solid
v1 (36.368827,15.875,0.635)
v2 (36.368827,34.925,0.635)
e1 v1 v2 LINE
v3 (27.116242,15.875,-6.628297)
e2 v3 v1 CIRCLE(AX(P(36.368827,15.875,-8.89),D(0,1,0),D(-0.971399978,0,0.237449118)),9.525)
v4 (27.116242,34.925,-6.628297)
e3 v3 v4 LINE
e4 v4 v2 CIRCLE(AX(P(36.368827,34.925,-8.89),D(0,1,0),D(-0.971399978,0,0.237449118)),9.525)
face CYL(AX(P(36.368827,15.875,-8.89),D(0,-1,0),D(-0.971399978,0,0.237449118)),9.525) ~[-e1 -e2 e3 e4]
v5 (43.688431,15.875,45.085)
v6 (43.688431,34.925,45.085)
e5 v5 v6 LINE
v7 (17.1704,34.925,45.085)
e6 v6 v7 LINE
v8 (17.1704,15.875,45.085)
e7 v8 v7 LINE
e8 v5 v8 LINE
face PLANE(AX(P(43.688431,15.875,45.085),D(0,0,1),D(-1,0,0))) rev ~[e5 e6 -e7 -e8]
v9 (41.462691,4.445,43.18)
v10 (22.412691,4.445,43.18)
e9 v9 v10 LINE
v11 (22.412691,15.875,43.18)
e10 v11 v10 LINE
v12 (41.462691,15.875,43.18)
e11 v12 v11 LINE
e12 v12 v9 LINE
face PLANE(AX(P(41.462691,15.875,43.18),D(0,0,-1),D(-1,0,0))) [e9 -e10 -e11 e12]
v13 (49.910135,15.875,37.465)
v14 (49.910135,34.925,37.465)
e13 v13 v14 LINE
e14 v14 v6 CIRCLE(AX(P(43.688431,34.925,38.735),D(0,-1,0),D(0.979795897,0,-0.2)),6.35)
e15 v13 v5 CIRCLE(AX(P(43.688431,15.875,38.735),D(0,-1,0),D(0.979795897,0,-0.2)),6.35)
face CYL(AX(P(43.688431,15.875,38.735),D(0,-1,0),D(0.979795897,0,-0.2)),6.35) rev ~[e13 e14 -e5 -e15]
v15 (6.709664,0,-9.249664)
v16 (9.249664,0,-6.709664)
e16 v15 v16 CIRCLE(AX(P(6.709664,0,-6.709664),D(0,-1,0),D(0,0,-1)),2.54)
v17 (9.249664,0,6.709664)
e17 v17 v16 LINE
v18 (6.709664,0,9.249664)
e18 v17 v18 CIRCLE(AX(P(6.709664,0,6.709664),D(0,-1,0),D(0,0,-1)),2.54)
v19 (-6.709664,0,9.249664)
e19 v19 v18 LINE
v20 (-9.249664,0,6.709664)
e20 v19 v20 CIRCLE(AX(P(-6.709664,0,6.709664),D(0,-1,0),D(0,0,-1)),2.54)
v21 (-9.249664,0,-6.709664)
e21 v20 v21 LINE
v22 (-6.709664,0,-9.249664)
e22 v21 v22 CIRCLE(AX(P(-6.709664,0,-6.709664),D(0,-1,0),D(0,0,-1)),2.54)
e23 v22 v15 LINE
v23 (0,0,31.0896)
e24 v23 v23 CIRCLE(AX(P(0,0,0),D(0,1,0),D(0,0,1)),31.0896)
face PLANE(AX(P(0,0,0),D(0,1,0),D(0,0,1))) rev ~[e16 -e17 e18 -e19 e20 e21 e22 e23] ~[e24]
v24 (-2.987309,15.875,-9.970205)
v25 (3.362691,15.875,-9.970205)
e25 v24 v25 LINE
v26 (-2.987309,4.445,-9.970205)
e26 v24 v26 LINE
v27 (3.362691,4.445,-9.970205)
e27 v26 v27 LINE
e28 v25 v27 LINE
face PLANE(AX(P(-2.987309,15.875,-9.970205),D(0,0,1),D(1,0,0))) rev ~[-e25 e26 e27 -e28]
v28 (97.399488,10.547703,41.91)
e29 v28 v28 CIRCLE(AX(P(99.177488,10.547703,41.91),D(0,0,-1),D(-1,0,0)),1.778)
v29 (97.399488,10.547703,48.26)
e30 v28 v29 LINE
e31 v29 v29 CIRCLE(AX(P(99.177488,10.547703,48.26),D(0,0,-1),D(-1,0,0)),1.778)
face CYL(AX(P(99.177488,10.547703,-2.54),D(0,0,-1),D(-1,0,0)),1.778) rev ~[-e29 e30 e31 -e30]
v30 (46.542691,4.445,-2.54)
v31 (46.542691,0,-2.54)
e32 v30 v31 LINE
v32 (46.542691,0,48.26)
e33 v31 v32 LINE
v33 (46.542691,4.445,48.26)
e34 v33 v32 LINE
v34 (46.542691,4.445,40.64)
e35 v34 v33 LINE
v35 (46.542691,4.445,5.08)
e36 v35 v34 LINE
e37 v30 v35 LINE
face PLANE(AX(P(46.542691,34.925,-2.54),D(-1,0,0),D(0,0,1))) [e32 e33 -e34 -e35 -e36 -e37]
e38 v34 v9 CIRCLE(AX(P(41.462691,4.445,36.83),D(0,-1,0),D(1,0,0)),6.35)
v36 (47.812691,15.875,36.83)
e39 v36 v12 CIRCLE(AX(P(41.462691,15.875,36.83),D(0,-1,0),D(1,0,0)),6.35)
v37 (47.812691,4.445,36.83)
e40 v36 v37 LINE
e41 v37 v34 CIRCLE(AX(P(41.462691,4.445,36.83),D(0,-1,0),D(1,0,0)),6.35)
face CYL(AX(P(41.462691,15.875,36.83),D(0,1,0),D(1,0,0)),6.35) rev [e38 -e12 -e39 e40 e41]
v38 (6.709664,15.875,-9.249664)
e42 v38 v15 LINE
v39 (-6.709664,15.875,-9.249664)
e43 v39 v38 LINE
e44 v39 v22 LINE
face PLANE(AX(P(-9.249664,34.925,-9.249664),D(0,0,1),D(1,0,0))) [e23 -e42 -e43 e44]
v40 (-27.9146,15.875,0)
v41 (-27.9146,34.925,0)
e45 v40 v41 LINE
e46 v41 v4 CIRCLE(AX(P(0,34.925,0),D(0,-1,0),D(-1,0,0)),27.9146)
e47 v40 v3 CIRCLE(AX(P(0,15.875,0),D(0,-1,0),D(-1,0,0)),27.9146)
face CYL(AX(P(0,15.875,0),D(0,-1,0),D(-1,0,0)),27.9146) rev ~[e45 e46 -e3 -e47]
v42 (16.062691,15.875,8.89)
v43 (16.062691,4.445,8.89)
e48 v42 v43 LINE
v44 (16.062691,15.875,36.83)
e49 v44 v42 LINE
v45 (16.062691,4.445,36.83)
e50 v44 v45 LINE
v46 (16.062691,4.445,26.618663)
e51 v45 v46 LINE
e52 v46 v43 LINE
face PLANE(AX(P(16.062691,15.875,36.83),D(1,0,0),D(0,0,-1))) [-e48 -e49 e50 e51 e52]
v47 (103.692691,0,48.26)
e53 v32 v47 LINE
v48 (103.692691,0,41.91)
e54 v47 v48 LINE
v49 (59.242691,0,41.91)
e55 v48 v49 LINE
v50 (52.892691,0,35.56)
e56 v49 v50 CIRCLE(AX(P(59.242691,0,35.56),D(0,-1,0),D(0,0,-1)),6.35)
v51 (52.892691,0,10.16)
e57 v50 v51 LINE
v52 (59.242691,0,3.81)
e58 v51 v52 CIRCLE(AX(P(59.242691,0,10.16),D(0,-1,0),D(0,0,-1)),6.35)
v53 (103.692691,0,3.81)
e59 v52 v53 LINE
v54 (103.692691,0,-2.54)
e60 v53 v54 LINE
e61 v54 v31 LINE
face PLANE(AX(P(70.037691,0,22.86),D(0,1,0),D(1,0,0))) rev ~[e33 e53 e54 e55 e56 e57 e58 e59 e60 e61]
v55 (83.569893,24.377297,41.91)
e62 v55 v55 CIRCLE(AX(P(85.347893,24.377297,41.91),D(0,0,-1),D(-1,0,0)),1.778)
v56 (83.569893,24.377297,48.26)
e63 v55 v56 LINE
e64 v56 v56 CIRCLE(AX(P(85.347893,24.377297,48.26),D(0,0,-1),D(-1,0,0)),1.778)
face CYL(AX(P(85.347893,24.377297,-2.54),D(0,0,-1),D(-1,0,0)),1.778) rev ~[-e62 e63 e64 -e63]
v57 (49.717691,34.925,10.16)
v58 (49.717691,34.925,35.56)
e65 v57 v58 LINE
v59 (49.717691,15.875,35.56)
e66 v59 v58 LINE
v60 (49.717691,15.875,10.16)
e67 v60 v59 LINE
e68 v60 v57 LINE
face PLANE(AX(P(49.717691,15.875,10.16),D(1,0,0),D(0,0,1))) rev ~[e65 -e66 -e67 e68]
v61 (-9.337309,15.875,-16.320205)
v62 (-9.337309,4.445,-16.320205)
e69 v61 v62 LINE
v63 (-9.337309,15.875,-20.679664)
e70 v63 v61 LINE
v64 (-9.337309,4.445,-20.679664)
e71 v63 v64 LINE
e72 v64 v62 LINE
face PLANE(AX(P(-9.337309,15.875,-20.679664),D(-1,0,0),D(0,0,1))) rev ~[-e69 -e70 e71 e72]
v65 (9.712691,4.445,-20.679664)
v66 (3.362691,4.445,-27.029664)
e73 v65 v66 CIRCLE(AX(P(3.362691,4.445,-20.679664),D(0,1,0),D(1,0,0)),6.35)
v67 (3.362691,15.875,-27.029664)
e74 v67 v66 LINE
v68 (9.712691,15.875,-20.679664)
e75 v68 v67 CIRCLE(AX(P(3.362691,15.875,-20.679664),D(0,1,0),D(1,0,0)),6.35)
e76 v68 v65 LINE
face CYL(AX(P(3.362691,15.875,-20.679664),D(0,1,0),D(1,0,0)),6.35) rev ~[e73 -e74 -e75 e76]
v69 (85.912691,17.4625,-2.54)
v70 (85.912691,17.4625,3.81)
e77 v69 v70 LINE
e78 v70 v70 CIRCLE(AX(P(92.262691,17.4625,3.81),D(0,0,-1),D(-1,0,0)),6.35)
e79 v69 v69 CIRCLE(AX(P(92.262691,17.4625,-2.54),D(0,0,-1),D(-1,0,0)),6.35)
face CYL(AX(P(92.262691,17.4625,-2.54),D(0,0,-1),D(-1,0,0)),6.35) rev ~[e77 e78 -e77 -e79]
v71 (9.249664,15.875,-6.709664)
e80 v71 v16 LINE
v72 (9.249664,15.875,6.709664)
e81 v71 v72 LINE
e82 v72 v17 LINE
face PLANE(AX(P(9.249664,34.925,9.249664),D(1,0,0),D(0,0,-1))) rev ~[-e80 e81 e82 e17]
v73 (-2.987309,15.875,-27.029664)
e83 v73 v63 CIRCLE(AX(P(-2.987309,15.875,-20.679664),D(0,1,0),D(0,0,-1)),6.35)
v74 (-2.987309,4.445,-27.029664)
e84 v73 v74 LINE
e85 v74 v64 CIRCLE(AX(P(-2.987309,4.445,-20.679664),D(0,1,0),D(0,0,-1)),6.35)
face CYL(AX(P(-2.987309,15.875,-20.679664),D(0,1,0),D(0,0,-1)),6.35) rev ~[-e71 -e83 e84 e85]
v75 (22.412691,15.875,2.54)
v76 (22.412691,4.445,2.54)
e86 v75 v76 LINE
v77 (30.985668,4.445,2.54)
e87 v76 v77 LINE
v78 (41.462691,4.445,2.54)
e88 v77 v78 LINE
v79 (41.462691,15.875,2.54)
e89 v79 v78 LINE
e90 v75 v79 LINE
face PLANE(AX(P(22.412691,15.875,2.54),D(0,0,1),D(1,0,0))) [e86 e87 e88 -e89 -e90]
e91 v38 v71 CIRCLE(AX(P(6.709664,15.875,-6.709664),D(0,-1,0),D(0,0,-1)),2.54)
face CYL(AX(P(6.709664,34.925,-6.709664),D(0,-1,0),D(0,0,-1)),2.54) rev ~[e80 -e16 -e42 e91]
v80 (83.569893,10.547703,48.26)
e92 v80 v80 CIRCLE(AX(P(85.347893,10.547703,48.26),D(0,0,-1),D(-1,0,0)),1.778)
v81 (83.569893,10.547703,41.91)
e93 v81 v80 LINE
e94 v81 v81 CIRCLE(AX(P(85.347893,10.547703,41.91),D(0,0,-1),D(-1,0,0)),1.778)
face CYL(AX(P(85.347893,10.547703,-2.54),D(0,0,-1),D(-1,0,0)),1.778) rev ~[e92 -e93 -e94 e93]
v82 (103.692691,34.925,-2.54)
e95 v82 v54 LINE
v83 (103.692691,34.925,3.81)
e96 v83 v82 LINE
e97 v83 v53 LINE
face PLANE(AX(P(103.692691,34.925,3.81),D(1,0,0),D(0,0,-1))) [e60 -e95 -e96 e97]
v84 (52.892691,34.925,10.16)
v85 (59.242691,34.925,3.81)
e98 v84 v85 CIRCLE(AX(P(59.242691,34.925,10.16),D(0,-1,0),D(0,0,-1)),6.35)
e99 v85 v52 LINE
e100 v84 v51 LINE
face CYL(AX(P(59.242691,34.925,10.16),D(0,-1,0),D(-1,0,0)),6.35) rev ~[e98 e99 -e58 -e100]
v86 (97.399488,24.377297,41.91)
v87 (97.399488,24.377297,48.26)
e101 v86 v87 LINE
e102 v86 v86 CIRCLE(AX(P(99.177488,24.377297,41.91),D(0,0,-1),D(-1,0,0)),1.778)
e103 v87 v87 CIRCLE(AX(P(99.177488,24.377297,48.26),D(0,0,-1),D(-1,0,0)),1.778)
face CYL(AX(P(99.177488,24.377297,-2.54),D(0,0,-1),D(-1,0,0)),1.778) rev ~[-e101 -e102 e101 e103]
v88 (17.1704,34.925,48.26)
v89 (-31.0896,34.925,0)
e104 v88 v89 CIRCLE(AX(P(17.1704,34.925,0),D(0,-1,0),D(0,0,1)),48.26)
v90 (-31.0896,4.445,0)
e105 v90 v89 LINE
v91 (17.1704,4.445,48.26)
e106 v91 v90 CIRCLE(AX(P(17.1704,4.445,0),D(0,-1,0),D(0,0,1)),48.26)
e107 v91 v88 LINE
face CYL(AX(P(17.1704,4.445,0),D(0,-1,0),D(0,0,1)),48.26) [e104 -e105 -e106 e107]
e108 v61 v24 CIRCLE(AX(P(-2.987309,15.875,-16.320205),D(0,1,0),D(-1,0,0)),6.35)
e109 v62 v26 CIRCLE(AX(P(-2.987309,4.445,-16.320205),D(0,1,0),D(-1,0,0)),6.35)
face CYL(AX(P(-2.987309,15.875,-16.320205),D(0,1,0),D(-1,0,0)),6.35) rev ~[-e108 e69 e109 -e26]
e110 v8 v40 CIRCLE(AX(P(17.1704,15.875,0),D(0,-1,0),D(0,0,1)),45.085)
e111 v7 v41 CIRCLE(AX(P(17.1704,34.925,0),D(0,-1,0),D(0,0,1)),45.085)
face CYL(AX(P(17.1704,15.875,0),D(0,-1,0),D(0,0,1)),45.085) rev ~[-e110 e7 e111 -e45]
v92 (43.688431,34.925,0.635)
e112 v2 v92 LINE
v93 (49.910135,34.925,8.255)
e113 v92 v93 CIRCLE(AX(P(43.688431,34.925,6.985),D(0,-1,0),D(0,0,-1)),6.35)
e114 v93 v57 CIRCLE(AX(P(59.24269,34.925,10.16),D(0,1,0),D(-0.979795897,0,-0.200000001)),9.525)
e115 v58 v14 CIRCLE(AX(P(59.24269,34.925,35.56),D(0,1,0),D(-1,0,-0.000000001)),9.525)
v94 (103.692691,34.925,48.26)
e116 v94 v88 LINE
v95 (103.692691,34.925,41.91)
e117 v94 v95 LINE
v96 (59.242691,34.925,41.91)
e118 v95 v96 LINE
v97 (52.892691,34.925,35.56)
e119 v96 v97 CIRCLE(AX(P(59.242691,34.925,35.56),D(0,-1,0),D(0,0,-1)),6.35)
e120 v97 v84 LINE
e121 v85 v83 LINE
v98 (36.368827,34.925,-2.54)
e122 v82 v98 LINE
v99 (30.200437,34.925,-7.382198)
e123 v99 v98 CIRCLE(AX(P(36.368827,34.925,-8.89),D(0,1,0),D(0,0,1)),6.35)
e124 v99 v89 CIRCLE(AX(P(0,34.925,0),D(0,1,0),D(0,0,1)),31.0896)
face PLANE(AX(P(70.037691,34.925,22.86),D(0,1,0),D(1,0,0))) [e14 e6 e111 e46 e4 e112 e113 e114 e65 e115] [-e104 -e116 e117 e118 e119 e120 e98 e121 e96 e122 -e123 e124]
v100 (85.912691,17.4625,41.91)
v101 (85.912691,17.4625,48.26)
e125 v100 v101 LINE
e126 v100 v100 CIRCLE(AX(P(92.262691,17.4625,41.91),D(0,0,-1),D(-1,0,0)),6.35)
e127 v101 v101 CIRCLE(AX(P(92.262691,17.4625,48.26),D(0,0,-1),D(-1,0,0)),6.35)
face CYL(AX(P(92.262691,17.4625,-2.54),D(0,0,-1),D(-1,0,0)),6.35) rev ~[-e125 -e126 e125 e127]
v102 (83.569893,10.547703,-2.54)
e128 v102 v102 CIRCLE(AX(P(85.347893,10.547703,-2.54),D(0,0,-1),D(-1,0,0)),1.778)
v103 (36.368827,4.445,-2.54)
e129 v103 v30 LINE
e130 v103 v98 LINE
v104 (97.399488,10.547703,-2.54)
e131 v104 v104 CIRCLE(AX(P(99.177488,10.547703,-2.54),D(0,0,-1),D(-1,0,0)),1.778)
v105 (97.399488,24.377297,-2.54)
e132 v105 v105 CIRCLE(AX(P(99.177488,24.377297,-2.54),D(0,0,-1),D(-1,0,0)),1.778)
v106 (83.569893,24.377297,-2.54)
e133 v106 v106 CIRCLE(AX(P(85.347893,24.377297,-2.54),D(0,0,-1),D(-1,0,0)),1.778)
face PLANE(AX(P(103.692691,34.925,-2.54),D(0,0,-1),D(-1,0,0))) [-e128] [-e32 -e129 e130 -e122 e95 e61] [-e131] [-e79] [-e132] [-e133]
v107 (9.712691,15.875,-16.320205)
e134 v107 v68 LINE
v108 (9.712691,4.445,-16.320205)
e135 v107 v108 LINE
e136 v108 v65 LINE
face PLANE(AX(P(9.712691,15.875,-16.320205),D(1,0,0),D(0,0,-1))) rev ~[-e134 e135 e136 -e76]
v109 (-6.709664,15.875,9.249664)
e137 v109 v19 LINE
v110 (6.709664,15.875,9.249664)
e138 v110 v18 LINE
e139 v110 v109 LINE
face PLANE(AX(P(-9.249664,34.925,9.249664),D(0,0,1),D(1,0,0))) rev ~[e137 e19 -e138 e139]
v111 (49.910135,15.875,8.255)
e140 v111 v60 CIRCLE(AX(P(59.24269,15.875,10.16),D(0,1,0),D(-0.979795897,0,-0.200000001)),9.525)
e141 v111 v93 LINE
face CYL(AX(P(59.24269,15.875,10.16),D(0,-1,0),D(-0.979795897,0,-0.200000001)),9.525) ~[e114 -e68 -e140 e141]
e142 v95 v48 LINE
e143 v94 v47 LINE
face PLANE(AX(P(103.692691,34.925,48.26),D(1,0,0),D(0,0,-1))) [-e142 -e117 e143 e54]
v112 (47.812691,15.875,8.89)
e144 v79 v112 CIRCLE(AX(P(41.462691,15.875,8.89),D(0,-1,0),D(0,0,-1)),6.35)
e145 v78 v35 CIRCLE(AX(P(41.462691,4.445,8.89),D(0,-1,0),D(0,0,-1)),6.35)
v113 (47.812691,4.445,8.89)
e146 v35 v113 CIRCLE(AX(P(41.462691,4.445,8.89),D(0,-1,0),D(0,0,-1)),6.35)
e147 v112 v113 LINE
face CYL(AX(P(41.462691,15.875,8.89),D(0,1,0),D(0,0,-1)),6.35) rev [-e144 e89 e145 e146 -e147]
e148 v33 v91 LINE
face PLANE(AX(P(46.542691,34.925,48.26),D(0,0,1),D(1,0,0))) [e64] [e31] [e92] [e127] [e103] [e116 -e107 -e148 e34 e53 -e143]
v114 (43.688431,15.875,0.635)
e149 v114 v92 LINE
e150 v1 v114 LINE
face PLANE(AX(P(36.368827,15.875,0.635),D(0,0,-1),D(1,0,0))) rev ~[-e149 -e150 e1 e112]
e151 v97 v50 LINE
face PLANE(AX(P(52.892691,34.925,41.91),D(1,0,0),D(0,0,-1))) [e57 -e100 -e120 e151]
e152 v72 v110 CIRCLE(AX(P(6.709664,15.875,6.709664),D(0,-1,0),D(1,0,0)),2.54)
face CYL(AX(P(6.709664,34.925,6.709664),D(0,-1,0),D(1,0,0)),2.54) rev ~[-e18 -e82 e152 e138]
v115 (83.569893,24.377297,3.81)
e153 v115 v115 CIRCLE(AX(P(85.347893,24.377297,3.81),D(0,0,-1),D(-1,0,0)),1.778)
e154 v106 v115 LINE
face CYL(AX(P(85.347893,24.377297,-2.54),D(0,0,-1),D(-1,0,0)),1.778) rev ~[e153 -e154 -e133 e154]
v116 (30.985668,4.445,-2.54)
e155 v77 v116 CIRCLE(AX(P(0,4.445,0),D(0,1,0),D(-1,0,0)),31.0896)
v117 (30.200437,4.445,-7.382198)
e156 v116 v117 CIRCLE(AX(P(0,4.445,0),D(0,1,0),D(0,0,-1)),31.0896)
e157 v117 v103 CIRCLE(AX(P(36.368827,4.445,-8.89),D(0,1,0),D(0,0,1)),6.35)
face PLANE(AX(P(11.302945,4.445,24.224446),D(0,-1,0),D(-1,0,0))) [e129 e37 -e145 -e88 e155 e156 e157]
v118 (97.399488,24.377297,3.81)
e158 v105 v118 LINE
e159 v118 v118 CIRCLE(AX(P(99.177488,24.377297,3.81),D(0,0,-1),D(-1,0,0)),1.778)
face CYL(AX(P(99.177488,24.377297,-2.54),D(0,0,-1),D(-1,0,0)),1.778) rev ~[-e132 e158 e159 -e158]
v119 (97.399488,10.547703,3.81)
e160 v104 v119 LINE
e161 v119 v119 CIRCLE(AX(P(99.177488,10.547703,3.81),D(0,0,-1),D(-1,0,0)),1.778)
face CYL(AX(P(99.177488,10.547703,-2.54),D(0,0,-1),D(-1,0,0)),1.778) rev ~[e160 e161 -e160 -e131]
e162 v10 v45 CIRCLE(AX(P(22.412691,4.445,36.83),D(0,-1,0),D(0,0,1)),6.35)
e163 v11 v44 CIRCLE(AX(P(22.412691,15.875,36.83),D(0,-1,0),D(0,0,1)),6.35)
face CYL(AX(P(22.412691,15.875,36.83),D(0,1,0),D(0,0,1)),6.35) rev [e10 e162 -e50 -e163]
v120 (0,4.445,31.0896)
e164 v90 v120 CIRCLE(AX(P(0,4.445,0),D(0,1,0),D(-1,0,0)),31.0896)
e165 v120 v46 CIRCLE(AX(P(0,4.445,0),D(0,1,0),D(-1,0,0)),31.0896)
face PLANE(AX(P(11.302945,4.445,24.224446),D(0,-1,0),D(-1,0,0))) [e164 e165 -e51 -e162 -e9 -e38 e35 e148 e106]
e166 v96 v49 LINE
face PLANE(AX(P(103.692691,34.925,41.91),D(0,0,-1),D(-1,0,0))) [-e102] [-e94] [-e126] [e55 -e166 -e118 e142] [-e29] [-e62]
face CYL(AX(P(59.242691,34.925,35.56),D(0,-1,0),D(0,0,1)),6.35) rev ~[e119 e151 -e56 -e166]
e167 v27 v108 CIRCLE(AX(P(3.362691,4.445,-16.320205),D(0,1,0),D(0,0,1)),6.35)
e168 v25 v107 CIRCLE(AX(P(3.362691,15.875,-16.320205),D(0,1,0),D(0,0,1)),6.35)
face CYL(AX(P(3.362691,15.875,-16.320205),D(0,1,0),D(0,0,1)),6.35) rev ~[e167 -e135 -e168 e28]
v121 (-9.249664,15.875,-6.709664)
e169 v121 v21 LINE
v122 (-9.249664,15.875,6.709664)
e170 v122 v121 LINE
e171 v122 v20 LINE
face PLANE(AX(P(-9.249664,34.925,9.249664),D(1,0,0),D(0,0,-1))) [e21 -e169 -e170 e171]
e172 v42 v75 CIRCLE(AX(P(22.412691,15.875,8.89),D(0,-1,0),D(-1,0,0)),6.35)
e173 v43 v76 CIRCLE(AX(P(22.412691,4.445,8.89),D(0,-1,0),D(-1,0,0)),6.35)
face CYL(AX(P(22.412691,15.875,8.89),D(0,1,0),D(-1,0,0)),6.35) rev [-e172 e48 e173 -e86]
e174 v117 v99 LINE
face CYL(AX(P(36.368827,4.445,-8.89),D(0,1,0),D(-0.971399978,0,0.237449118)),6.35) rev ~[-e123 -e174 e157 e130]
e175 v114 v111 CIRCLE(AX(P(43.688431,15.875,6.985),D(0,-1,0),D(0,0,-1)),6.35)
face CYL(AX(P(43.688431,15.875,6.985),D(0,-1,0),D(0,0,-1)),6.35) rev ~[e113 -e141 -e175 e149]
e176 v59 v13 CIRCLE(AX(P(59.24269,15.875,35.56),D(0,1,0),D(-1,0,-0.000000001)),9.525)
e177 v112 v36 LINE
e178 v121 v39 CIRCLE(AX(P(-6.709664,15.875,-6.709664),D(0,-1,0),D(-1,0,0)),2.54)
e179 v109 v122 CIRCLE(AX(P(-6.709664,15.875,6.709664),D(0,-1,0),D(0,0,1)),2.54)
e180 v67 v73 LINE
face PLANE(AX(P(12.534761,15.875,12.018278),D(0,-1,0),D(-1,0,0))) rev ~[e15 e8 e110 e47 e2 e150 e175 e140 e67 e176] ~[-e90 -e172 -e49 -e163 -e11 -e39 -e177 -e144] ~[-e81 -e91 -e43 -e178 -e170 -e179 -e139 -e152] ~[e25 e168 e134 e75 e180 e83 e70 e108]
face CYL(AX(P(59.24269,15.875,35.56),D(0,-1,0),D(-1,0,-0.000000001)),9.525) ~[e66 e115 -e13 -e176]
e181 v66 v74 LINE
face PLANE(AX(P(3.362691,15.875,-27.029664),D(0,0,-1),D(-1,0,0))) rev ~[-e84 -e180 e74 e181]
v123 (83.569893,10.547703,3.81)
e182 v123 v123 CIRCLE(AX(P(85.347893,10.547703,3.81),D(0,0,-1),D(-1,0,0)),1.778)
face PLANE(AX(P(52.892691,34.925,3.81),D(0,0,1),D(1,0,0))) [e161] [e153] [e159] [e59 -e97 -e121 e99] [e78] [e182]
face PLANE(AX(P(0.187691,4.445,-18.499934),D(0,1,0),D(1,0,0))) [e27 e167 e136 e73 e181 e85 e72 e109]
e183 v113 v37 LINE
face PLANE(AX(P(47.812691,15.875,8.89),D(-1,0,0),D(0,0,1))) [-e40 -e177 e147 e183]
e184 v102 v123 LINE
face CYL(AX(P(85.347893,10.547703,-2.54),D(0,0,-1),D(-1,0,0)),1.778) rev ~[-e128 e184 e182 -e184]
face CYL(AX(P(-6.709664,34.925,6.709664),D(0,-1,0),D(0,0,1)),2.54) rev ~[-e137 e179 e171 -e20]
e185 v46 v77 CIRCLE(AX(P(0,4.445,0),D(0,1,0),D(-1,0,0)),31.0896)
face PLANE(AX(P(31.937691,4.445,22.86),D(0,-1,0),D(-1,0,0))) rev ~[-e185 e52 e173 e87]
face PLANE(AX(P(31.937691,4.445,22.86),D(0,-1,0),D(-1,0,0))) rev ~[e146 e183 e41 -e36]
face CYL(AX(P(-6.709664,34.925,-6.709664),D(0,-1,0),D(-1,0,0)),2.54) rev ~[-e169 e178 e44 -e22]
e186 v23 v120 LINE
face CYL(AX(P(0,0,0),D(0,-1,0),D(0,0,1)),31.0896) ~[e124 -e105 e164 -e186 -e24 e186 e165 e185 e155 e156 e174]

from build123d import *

# Parameters (mm, degrees)
SKETCH1_R           = 31.0896
BOSS_EXTRUDE1_DEPTH = 34.925
BOSS_EXTRUDE2_START = -30.48
BOSS_EXTRUDE2_DEPTH = 30.48
BOSS_EXTRUDE3_DEPTH = 34.925
CUT_EXTRUDE1_REACH  = 122.634
SKETCH4_R           = 6.35
SKETCH4_R_2         = 1.778
SKETCH5_W           = 18.49932761
SKETCH5_H           = 18.49932761
CUT_EXTRUDE2_DEPTH  = 34.925
FILLET3_R           = 2.54
FILLET4_R           = 2.54
FILLET5_R           = 2.54
FILLET6_R           = 2.54
FILLET8_R           = 6.35
FILLET9_R           = 6.35
FILLET10_R          = 6.35
CUT_EXTRUDE3_START  = -19.05
CUT_EXTRUDE3_DEPTH  = 19.05
CUT_EXTRUDE4_DEPTH  = 11.43
CUT_EXTRUDE5_DEPTH  = 11.43


with BuildPart() as part:
    # Sketch1 → Boss-Extrude1 (new body)
    with BuildSketch(Plane(origin=(0, 0, 0), x_dir=(1, 0, 0), z_dir=(0, 1, 0))):
        with Locations(Location((0, 0, 0), (0, 0, 270))):
            Circle(SKETCH1_R)
    extrude(amount=BOSS_EXTRUDE1_DEPTH)

    # Sketch2 → Boss-Extrude2 (add)
    with BuildSketch(Plane(origin=(0, 34.925, 0), x_dir=(1, 0, 0), z_dir=(0, 1, 0)).offset(BOSS_EXTRUDE2_START)):
        with BuildLine():
            Line((46.542690567, -48.26), (17.1704, -48.26))
            ThreePointArc((17.1704, -48.26), (-16.95457326, -34.12497326), (-31.0896, 0))
            ThreePointArc((-31.0896, 0), (1.271062728, -31.063606161), (30.985668109, 2.54))
            Line((30.985668109, 2.54), (46.542690567, 2.54))
            Line((46.542690567, 2.54), (46.542690567, -48.26))
        make_face()
    extrude(amount=BOSS_EXTRUDE2_DEPTH)

    # Sketch3 → Boss-Extrude3 (add)
    with BuildSketch(Plane(origin=(0, 34.925, 0), x_dir=(1, 0, 0), z_dir=(0, 1, 0))):
        Polygon((46.542690567, -0.333607673), (46.542690567, -48.26), (103.692690567, -48.26), (103.692690567, -41.91), (52.892690567, -41.91), (52.892690567, -3.81), (103.692690567, -3.81), (103.692690567, 2.54), (46.542690567, 2.54), align=None)
    extrude(amount=-BOSS_EXTRUDE3_DEPTH)

    # Cut-Extrude1: up to this face of the body (flat: up to its plane)
    cut_extrude1_end = Plane(part.part.faces().sort_by_distance((61.721911557, 18.150695346, 48.26))[0])
    # Sketch4 → Cut-Extrude1 (cut, up to the picked face)
    with BuildSketch(Plane(origin=(0, 0, -2.54), x_dir=(-1, 0, 0), z_dir=(0, 0, -1)), mode=Mode.PRIVATE) as cut_extrude1_sk1:
        with Locations((-92.262690567, 17.4625)):
            Circle(SKETCH4_R)
    cut_extrude1_tool1 = split(extrude(cut_extrude1_sk1.sketch, amount=-CUT_EXTRUDE1_REACH, mode=Mode.PRIVATE), bisect_by=cut_extrude1_end, keep=Keep.BOTH, mode=Mode.PRIVATE)
    # Sketch4 → Cut-Extrude1 (cut, up to the picked face)
    with BuildSketch(Plane(origin=(0, 0, -2.54), x_dir=(-1, 0, 0), z_dir=(0, 0, -1)), mode=Mode.PRIVATE) as cut_extrude1_sk2:
        with Locations((-85.347893353, 10.547702787)):
            Circle(SKETCH4_R_2)
    cut_extrude1_tool2 = split(extrude(cut_extrude1_sk2.sketch, amount=-CUT_EXTRUDE1_REACH, mode=Mode.PRIVATE), bisect_by=cut_extrude1_end, keep=Keep.BOTH, mode=Mode.PRIVATE)
    # Sketch4 → Cut-Extrude1 (cut, up to the picked face)
    with BuildSketch(Plane(origin=(0, 0, -2.54), x_dir=(-1, 0, 0), z_dir=(0, 0, -1)), mode=Mode.PRIVATE) as cut_extrude1_sk3:
        with Locations((-99.17748778, 24.377297213)):
            Circle(SKETCH4_R_2)
    cut_extrude1_tool3 = split(extrude(cut_extrude1_sk3.sketch, amount=-CUT_EXTRUDE1_REACH, mode=Mode.PRIVATE), bisect_by=cut_extrude1_end, keep=Keep.BOTH, mode=Mode.PRIVATE)
    # Sketch4 → Cut-Extrude1 (cut, up to the picked face)
    with BuildSketch(Plane(origin=(0, 0, -2.54), x_dir=(-1, 0, 0), z_dir=(0, 0, -1)), mode=Mode.PRIVATE) as cut_extrude1_sk4:
        with Locations((-99.17748778, 10.547702787)):
            Circle(SKETCH4_R_2)
    cut_extrude1_tool4 = split(extrude(cut_extrude1_sk4.sketch, amount=-CUT_EXTRUDE1_REACH, mode=Mode.PRIVATE), bisect_by=cut_extrude1_end, keep=Keep.BOTH, mode=Mode.PRIVATE)
    # Sketch4 → Cut-Extrude1 (cut, up to the picked face)
    with BuildSketch(Plane(origin=(0, 0, -2.54), x_dir=(-1, 0, 0), z_dir=(0, 0, -1)), mode=Mode.PRIVATE) as cut_extrude1_sk5:
        with Locations((-85.347893353, 24.377297213)):
            Circle(SKETCH4_R_2)
    cut_extrude1_tool5 = split(extrude(cut_extrude1_sk5.sketch, amount=-CUT_EXTRUDE1_REACH, mode=Mode.PRIVATE), bisect_by=cut_extrude1_end, keep=Keep.BOTH, mode=Mode.PRIVATE)
    add(cut_extrude1_tool1.solids().sort_by(Axis((92.262691, 17.4625, -2.54), (0, 0, 1)))[0], mode=Mode.SUBTRACT)
    add(cut_extrude1_tool2.solids().sort_by(Axis((85.347893, 10.547703, -2.54), (0, 0, 1)))[0], mode=Mode.SUBTRACT)
    add(cut_extrude1_tool3.solids().sort_by(Axis((99.177488, 24.377297, -2.54), (0, 0, 1)))[0], mode=Mode.SUBTRACT)
    add(cut_extrude1_tool4.solids().sort_by(Axis((99.177488, 10.547703, -2.54), (0, 0, 1)))[0], mode=Mode.SUBTRACT)
    add(cut_extrude1_tool5.solids().sort_by(Axis((85.347893, 24.377297, -2.54), (0, 0, 1)))[0], mode=Mode.SUBTRACT)

    # Sketch5 → Cut-Extrude2 (cut)
    with BuildSketch(Plane(origin=(0, 34.925, 0), x_dir=(1, 0, 0), z_dir=(0, 1, 0))):
        Rectangle(SKETCH5_W, SKETCH5_H)
    extrude(amount=-CUT_EXTRUDE2_DEPTH, mode=Mode.SUBTRACT)

    # Fillet3
    fillet3_edges = [part.edges().sort_by_distance(p)[0] for p in [
        (-9.249663805, 17.4625, 9.249663805),
    ]]
    fillet(fillet3_edges, radius=FILLET3_R)

    # Fillet4
    fillet4_edges = [part.edges().sort_by_distance(p)[0] for p in [
        (-9.249663805, 17.4625, -9.249663805),
    ]]
    fillet(fillet4_edges, radius=FILLET4_R)

    # Fillet5
    fillet5_edges = [part.edges().sort_by_distance(p)[0] for p in [
        (9.249663805, 17.4625, -9.249663805),
    ]]
    fillet(fillet5_edges, radius=FILLET5_R)

    # Fillet6
    fillet6_edges = [part.edges().sort_by_distance(p)[0] for p in [
        (9.249663805, 17.4625, 9.249663805),
    ]]
    fillet(fillet6_edges, radius=FILLET6_R)

    # Fillet8
    fillet8_edges = [part.edges().sort_by_distance(p)[0] for p in [
        (30.985668109, 19.685, -2.54),
    ]]
    fillet(fillet8_edges, radius=FILLET8_R)

    # Fillet9
    fillet9_edges = [part.edges().sort_by_distance(p)[0] for p in [
        (52.892690567, 17.4625, 41.91),
    ]]
    fillet(fillet9_edges, radius=FILLET9_R)

    # Fillet10
    fillet10_edges = [part.edges().sort_by_distance(p)[0] for p in [
        (52.892690567, 17.4625, 3.81),
    ]]
    fillet(fillet10_edges, radius=FILLET10_R)

    # Sketch6 → Cut-Extrude3 (cut)
    with BuildSketch(Plane(origin=(0, 34.925, 0), x_dir=(1, 0, 0), z_dir=(0, 1, 0)).offset(CUT_EXTRUDE3_START)):
        with BuildLine():
            ThreePointArc((49.910134647, -8.255), (49.765923709, -9.202652137), (49.717690567, -10.16))
            Line((49.717690567, -10.16), (49.717690567, -35.56))
            ThreePointArc((49.717690567, -35.56), (49.765923709, -36.517347863), (49.910134647, -37.465))
            ThreePointArc((49.910134647, -37.465), (48.60711955, -42.751092628), (43.6884307, -45.085))
            Line((43.6884307, -45.085), (17.1704, -45.085))
            ThreePointArc((17.1704, -45.085), (-14.70950923, -31.87990923), (-27.9146, 0))
            ThreePointArc((-27.9146, 0), (-3.338101965, 27.714291772), (27.116241813, 6.628297151))
            ThreePointArc((27.116241813, 6.628297151), (30.48737672, 1.397725825), (36.368826599, -0.635))
            Line((36.368826599, -0.635), (43.6884307, -0.635))
            ThreePointArc((43.6884307, -0.635), (48.60711955, -2.968907372), (49.910134647, -8.255))
        make_face()
        with BuildLine():
            ThreePointArc((6.709663805, 9.249663805), (8.505715029, 8.505715029), (9.249663805, 6.709663805))
            Line((9.249663805, 6.709663805), (9.249663805, -6.709663805))
            ThreePointArc((9.249663805, -6.709663805), (8.505715029, -8.505715029), (6.709663805, -9.249663805))
            Line((6.709663805, -9.249663805), (-6.709663805, -9.249663805))
            ThreePointArc((-6.709663805, -9.249663805), (-8.505715029, -8.505715029), (-9.249663805, -6.709663805))
            Line((-9.249663805, -6.709663805), (-9.249663805, 6.709663805))
            ThreePointArc((-9.249663805, 6.709663805), (-8.505715029, 8.505715029), (-6.709663805, 9.249663805))
            Line((-6.709663805, 9.249663805), (6.709663805, 9.249663805))
        make_face(mode=Mode.SUBTRACT)
    extrude(amount=CUT_EXTRUDE3_DEPTH, mode=Mode.SUBTRACT)

    # Sketch8 → Cut-Extrude4 (cut)
    with BuildSketch(Plane(origin=(0, 15.875, 0), x_dir=(1, 0, 0), z_dir=(0, 1, 0))):
        with BuildLine():
            Line((22.412690567, -2.54), (41.462690567, -2.54))
            ThreePointArc((41.462690567, -2.54), (45.952818627, -4.399871939), (47.812690567, -8.89))
            Line((47.812690567, -8.89), (47.812690567, -36.83))
            ThreePointArc((47.812690567, -36.83), (45.952818627, -41.320128061), (41.462690567, -43.18))
            Line((41.462690567, -43.18), (22.412690567, -43.18))
            ThreePointArc((22.412690567, -43.18), (17.922562506, -41.320128061), (16.062690567, -36.83))
            Line((16.062690567, -36.83), (16.062690567, -8.89))
            ThreePointArc((16.062690567, -8.89), (17.922562506, -4.399871939), (22.412690567, -2.54))
        make_face()
    extrude(amount=-CUT_EXTRUDE4_DEPTH, mode=Mode.SUBTRACT)

    # Sketch9 → Cut-Extrude5 (cut)
    with BuildSketch(Plane(origin=(0, 15.875, 0), x_dir=(1, 0, 0), z_dir=(0, 1, 0))):
        with BuildLine():
            Line((-9.337309433, 20.679663805), (-9.337309433, 16.320204994))
            ThreePointArc((-9.337309433, 16.320204994), (-7.477437494, 11.830076933), (-2.987309433, 9.970204994))
            Line((-2.987309433, 9.970204994), (3.362690567, 9.970204994))
            ThreePointArc((3.362690567, 9.970204994), (7.852818627, 11.830076933), (9.712690567, 16.320204994))
            Line((9.712690567, 16.320204994), (9.712690567, 20.679663805))
            ThreePointArc((9.712690567, 20.679663805), (7.852818627, 25.169791865), (3.362690567, 27.029663805))
            Line((3.362690567, 27.029663805), (-2.987309433, 27.029663805))
            ThreePointArc((-2.987309433, 27.029663805), (-7.477437494, 25.169791865), (-9.337309433, 20.679663805))
        make_face()
    extrude(amount=-CUT_EXTRUDE5_DEPTH, mode=Mode.SUBTRACT)


solid = part.part
